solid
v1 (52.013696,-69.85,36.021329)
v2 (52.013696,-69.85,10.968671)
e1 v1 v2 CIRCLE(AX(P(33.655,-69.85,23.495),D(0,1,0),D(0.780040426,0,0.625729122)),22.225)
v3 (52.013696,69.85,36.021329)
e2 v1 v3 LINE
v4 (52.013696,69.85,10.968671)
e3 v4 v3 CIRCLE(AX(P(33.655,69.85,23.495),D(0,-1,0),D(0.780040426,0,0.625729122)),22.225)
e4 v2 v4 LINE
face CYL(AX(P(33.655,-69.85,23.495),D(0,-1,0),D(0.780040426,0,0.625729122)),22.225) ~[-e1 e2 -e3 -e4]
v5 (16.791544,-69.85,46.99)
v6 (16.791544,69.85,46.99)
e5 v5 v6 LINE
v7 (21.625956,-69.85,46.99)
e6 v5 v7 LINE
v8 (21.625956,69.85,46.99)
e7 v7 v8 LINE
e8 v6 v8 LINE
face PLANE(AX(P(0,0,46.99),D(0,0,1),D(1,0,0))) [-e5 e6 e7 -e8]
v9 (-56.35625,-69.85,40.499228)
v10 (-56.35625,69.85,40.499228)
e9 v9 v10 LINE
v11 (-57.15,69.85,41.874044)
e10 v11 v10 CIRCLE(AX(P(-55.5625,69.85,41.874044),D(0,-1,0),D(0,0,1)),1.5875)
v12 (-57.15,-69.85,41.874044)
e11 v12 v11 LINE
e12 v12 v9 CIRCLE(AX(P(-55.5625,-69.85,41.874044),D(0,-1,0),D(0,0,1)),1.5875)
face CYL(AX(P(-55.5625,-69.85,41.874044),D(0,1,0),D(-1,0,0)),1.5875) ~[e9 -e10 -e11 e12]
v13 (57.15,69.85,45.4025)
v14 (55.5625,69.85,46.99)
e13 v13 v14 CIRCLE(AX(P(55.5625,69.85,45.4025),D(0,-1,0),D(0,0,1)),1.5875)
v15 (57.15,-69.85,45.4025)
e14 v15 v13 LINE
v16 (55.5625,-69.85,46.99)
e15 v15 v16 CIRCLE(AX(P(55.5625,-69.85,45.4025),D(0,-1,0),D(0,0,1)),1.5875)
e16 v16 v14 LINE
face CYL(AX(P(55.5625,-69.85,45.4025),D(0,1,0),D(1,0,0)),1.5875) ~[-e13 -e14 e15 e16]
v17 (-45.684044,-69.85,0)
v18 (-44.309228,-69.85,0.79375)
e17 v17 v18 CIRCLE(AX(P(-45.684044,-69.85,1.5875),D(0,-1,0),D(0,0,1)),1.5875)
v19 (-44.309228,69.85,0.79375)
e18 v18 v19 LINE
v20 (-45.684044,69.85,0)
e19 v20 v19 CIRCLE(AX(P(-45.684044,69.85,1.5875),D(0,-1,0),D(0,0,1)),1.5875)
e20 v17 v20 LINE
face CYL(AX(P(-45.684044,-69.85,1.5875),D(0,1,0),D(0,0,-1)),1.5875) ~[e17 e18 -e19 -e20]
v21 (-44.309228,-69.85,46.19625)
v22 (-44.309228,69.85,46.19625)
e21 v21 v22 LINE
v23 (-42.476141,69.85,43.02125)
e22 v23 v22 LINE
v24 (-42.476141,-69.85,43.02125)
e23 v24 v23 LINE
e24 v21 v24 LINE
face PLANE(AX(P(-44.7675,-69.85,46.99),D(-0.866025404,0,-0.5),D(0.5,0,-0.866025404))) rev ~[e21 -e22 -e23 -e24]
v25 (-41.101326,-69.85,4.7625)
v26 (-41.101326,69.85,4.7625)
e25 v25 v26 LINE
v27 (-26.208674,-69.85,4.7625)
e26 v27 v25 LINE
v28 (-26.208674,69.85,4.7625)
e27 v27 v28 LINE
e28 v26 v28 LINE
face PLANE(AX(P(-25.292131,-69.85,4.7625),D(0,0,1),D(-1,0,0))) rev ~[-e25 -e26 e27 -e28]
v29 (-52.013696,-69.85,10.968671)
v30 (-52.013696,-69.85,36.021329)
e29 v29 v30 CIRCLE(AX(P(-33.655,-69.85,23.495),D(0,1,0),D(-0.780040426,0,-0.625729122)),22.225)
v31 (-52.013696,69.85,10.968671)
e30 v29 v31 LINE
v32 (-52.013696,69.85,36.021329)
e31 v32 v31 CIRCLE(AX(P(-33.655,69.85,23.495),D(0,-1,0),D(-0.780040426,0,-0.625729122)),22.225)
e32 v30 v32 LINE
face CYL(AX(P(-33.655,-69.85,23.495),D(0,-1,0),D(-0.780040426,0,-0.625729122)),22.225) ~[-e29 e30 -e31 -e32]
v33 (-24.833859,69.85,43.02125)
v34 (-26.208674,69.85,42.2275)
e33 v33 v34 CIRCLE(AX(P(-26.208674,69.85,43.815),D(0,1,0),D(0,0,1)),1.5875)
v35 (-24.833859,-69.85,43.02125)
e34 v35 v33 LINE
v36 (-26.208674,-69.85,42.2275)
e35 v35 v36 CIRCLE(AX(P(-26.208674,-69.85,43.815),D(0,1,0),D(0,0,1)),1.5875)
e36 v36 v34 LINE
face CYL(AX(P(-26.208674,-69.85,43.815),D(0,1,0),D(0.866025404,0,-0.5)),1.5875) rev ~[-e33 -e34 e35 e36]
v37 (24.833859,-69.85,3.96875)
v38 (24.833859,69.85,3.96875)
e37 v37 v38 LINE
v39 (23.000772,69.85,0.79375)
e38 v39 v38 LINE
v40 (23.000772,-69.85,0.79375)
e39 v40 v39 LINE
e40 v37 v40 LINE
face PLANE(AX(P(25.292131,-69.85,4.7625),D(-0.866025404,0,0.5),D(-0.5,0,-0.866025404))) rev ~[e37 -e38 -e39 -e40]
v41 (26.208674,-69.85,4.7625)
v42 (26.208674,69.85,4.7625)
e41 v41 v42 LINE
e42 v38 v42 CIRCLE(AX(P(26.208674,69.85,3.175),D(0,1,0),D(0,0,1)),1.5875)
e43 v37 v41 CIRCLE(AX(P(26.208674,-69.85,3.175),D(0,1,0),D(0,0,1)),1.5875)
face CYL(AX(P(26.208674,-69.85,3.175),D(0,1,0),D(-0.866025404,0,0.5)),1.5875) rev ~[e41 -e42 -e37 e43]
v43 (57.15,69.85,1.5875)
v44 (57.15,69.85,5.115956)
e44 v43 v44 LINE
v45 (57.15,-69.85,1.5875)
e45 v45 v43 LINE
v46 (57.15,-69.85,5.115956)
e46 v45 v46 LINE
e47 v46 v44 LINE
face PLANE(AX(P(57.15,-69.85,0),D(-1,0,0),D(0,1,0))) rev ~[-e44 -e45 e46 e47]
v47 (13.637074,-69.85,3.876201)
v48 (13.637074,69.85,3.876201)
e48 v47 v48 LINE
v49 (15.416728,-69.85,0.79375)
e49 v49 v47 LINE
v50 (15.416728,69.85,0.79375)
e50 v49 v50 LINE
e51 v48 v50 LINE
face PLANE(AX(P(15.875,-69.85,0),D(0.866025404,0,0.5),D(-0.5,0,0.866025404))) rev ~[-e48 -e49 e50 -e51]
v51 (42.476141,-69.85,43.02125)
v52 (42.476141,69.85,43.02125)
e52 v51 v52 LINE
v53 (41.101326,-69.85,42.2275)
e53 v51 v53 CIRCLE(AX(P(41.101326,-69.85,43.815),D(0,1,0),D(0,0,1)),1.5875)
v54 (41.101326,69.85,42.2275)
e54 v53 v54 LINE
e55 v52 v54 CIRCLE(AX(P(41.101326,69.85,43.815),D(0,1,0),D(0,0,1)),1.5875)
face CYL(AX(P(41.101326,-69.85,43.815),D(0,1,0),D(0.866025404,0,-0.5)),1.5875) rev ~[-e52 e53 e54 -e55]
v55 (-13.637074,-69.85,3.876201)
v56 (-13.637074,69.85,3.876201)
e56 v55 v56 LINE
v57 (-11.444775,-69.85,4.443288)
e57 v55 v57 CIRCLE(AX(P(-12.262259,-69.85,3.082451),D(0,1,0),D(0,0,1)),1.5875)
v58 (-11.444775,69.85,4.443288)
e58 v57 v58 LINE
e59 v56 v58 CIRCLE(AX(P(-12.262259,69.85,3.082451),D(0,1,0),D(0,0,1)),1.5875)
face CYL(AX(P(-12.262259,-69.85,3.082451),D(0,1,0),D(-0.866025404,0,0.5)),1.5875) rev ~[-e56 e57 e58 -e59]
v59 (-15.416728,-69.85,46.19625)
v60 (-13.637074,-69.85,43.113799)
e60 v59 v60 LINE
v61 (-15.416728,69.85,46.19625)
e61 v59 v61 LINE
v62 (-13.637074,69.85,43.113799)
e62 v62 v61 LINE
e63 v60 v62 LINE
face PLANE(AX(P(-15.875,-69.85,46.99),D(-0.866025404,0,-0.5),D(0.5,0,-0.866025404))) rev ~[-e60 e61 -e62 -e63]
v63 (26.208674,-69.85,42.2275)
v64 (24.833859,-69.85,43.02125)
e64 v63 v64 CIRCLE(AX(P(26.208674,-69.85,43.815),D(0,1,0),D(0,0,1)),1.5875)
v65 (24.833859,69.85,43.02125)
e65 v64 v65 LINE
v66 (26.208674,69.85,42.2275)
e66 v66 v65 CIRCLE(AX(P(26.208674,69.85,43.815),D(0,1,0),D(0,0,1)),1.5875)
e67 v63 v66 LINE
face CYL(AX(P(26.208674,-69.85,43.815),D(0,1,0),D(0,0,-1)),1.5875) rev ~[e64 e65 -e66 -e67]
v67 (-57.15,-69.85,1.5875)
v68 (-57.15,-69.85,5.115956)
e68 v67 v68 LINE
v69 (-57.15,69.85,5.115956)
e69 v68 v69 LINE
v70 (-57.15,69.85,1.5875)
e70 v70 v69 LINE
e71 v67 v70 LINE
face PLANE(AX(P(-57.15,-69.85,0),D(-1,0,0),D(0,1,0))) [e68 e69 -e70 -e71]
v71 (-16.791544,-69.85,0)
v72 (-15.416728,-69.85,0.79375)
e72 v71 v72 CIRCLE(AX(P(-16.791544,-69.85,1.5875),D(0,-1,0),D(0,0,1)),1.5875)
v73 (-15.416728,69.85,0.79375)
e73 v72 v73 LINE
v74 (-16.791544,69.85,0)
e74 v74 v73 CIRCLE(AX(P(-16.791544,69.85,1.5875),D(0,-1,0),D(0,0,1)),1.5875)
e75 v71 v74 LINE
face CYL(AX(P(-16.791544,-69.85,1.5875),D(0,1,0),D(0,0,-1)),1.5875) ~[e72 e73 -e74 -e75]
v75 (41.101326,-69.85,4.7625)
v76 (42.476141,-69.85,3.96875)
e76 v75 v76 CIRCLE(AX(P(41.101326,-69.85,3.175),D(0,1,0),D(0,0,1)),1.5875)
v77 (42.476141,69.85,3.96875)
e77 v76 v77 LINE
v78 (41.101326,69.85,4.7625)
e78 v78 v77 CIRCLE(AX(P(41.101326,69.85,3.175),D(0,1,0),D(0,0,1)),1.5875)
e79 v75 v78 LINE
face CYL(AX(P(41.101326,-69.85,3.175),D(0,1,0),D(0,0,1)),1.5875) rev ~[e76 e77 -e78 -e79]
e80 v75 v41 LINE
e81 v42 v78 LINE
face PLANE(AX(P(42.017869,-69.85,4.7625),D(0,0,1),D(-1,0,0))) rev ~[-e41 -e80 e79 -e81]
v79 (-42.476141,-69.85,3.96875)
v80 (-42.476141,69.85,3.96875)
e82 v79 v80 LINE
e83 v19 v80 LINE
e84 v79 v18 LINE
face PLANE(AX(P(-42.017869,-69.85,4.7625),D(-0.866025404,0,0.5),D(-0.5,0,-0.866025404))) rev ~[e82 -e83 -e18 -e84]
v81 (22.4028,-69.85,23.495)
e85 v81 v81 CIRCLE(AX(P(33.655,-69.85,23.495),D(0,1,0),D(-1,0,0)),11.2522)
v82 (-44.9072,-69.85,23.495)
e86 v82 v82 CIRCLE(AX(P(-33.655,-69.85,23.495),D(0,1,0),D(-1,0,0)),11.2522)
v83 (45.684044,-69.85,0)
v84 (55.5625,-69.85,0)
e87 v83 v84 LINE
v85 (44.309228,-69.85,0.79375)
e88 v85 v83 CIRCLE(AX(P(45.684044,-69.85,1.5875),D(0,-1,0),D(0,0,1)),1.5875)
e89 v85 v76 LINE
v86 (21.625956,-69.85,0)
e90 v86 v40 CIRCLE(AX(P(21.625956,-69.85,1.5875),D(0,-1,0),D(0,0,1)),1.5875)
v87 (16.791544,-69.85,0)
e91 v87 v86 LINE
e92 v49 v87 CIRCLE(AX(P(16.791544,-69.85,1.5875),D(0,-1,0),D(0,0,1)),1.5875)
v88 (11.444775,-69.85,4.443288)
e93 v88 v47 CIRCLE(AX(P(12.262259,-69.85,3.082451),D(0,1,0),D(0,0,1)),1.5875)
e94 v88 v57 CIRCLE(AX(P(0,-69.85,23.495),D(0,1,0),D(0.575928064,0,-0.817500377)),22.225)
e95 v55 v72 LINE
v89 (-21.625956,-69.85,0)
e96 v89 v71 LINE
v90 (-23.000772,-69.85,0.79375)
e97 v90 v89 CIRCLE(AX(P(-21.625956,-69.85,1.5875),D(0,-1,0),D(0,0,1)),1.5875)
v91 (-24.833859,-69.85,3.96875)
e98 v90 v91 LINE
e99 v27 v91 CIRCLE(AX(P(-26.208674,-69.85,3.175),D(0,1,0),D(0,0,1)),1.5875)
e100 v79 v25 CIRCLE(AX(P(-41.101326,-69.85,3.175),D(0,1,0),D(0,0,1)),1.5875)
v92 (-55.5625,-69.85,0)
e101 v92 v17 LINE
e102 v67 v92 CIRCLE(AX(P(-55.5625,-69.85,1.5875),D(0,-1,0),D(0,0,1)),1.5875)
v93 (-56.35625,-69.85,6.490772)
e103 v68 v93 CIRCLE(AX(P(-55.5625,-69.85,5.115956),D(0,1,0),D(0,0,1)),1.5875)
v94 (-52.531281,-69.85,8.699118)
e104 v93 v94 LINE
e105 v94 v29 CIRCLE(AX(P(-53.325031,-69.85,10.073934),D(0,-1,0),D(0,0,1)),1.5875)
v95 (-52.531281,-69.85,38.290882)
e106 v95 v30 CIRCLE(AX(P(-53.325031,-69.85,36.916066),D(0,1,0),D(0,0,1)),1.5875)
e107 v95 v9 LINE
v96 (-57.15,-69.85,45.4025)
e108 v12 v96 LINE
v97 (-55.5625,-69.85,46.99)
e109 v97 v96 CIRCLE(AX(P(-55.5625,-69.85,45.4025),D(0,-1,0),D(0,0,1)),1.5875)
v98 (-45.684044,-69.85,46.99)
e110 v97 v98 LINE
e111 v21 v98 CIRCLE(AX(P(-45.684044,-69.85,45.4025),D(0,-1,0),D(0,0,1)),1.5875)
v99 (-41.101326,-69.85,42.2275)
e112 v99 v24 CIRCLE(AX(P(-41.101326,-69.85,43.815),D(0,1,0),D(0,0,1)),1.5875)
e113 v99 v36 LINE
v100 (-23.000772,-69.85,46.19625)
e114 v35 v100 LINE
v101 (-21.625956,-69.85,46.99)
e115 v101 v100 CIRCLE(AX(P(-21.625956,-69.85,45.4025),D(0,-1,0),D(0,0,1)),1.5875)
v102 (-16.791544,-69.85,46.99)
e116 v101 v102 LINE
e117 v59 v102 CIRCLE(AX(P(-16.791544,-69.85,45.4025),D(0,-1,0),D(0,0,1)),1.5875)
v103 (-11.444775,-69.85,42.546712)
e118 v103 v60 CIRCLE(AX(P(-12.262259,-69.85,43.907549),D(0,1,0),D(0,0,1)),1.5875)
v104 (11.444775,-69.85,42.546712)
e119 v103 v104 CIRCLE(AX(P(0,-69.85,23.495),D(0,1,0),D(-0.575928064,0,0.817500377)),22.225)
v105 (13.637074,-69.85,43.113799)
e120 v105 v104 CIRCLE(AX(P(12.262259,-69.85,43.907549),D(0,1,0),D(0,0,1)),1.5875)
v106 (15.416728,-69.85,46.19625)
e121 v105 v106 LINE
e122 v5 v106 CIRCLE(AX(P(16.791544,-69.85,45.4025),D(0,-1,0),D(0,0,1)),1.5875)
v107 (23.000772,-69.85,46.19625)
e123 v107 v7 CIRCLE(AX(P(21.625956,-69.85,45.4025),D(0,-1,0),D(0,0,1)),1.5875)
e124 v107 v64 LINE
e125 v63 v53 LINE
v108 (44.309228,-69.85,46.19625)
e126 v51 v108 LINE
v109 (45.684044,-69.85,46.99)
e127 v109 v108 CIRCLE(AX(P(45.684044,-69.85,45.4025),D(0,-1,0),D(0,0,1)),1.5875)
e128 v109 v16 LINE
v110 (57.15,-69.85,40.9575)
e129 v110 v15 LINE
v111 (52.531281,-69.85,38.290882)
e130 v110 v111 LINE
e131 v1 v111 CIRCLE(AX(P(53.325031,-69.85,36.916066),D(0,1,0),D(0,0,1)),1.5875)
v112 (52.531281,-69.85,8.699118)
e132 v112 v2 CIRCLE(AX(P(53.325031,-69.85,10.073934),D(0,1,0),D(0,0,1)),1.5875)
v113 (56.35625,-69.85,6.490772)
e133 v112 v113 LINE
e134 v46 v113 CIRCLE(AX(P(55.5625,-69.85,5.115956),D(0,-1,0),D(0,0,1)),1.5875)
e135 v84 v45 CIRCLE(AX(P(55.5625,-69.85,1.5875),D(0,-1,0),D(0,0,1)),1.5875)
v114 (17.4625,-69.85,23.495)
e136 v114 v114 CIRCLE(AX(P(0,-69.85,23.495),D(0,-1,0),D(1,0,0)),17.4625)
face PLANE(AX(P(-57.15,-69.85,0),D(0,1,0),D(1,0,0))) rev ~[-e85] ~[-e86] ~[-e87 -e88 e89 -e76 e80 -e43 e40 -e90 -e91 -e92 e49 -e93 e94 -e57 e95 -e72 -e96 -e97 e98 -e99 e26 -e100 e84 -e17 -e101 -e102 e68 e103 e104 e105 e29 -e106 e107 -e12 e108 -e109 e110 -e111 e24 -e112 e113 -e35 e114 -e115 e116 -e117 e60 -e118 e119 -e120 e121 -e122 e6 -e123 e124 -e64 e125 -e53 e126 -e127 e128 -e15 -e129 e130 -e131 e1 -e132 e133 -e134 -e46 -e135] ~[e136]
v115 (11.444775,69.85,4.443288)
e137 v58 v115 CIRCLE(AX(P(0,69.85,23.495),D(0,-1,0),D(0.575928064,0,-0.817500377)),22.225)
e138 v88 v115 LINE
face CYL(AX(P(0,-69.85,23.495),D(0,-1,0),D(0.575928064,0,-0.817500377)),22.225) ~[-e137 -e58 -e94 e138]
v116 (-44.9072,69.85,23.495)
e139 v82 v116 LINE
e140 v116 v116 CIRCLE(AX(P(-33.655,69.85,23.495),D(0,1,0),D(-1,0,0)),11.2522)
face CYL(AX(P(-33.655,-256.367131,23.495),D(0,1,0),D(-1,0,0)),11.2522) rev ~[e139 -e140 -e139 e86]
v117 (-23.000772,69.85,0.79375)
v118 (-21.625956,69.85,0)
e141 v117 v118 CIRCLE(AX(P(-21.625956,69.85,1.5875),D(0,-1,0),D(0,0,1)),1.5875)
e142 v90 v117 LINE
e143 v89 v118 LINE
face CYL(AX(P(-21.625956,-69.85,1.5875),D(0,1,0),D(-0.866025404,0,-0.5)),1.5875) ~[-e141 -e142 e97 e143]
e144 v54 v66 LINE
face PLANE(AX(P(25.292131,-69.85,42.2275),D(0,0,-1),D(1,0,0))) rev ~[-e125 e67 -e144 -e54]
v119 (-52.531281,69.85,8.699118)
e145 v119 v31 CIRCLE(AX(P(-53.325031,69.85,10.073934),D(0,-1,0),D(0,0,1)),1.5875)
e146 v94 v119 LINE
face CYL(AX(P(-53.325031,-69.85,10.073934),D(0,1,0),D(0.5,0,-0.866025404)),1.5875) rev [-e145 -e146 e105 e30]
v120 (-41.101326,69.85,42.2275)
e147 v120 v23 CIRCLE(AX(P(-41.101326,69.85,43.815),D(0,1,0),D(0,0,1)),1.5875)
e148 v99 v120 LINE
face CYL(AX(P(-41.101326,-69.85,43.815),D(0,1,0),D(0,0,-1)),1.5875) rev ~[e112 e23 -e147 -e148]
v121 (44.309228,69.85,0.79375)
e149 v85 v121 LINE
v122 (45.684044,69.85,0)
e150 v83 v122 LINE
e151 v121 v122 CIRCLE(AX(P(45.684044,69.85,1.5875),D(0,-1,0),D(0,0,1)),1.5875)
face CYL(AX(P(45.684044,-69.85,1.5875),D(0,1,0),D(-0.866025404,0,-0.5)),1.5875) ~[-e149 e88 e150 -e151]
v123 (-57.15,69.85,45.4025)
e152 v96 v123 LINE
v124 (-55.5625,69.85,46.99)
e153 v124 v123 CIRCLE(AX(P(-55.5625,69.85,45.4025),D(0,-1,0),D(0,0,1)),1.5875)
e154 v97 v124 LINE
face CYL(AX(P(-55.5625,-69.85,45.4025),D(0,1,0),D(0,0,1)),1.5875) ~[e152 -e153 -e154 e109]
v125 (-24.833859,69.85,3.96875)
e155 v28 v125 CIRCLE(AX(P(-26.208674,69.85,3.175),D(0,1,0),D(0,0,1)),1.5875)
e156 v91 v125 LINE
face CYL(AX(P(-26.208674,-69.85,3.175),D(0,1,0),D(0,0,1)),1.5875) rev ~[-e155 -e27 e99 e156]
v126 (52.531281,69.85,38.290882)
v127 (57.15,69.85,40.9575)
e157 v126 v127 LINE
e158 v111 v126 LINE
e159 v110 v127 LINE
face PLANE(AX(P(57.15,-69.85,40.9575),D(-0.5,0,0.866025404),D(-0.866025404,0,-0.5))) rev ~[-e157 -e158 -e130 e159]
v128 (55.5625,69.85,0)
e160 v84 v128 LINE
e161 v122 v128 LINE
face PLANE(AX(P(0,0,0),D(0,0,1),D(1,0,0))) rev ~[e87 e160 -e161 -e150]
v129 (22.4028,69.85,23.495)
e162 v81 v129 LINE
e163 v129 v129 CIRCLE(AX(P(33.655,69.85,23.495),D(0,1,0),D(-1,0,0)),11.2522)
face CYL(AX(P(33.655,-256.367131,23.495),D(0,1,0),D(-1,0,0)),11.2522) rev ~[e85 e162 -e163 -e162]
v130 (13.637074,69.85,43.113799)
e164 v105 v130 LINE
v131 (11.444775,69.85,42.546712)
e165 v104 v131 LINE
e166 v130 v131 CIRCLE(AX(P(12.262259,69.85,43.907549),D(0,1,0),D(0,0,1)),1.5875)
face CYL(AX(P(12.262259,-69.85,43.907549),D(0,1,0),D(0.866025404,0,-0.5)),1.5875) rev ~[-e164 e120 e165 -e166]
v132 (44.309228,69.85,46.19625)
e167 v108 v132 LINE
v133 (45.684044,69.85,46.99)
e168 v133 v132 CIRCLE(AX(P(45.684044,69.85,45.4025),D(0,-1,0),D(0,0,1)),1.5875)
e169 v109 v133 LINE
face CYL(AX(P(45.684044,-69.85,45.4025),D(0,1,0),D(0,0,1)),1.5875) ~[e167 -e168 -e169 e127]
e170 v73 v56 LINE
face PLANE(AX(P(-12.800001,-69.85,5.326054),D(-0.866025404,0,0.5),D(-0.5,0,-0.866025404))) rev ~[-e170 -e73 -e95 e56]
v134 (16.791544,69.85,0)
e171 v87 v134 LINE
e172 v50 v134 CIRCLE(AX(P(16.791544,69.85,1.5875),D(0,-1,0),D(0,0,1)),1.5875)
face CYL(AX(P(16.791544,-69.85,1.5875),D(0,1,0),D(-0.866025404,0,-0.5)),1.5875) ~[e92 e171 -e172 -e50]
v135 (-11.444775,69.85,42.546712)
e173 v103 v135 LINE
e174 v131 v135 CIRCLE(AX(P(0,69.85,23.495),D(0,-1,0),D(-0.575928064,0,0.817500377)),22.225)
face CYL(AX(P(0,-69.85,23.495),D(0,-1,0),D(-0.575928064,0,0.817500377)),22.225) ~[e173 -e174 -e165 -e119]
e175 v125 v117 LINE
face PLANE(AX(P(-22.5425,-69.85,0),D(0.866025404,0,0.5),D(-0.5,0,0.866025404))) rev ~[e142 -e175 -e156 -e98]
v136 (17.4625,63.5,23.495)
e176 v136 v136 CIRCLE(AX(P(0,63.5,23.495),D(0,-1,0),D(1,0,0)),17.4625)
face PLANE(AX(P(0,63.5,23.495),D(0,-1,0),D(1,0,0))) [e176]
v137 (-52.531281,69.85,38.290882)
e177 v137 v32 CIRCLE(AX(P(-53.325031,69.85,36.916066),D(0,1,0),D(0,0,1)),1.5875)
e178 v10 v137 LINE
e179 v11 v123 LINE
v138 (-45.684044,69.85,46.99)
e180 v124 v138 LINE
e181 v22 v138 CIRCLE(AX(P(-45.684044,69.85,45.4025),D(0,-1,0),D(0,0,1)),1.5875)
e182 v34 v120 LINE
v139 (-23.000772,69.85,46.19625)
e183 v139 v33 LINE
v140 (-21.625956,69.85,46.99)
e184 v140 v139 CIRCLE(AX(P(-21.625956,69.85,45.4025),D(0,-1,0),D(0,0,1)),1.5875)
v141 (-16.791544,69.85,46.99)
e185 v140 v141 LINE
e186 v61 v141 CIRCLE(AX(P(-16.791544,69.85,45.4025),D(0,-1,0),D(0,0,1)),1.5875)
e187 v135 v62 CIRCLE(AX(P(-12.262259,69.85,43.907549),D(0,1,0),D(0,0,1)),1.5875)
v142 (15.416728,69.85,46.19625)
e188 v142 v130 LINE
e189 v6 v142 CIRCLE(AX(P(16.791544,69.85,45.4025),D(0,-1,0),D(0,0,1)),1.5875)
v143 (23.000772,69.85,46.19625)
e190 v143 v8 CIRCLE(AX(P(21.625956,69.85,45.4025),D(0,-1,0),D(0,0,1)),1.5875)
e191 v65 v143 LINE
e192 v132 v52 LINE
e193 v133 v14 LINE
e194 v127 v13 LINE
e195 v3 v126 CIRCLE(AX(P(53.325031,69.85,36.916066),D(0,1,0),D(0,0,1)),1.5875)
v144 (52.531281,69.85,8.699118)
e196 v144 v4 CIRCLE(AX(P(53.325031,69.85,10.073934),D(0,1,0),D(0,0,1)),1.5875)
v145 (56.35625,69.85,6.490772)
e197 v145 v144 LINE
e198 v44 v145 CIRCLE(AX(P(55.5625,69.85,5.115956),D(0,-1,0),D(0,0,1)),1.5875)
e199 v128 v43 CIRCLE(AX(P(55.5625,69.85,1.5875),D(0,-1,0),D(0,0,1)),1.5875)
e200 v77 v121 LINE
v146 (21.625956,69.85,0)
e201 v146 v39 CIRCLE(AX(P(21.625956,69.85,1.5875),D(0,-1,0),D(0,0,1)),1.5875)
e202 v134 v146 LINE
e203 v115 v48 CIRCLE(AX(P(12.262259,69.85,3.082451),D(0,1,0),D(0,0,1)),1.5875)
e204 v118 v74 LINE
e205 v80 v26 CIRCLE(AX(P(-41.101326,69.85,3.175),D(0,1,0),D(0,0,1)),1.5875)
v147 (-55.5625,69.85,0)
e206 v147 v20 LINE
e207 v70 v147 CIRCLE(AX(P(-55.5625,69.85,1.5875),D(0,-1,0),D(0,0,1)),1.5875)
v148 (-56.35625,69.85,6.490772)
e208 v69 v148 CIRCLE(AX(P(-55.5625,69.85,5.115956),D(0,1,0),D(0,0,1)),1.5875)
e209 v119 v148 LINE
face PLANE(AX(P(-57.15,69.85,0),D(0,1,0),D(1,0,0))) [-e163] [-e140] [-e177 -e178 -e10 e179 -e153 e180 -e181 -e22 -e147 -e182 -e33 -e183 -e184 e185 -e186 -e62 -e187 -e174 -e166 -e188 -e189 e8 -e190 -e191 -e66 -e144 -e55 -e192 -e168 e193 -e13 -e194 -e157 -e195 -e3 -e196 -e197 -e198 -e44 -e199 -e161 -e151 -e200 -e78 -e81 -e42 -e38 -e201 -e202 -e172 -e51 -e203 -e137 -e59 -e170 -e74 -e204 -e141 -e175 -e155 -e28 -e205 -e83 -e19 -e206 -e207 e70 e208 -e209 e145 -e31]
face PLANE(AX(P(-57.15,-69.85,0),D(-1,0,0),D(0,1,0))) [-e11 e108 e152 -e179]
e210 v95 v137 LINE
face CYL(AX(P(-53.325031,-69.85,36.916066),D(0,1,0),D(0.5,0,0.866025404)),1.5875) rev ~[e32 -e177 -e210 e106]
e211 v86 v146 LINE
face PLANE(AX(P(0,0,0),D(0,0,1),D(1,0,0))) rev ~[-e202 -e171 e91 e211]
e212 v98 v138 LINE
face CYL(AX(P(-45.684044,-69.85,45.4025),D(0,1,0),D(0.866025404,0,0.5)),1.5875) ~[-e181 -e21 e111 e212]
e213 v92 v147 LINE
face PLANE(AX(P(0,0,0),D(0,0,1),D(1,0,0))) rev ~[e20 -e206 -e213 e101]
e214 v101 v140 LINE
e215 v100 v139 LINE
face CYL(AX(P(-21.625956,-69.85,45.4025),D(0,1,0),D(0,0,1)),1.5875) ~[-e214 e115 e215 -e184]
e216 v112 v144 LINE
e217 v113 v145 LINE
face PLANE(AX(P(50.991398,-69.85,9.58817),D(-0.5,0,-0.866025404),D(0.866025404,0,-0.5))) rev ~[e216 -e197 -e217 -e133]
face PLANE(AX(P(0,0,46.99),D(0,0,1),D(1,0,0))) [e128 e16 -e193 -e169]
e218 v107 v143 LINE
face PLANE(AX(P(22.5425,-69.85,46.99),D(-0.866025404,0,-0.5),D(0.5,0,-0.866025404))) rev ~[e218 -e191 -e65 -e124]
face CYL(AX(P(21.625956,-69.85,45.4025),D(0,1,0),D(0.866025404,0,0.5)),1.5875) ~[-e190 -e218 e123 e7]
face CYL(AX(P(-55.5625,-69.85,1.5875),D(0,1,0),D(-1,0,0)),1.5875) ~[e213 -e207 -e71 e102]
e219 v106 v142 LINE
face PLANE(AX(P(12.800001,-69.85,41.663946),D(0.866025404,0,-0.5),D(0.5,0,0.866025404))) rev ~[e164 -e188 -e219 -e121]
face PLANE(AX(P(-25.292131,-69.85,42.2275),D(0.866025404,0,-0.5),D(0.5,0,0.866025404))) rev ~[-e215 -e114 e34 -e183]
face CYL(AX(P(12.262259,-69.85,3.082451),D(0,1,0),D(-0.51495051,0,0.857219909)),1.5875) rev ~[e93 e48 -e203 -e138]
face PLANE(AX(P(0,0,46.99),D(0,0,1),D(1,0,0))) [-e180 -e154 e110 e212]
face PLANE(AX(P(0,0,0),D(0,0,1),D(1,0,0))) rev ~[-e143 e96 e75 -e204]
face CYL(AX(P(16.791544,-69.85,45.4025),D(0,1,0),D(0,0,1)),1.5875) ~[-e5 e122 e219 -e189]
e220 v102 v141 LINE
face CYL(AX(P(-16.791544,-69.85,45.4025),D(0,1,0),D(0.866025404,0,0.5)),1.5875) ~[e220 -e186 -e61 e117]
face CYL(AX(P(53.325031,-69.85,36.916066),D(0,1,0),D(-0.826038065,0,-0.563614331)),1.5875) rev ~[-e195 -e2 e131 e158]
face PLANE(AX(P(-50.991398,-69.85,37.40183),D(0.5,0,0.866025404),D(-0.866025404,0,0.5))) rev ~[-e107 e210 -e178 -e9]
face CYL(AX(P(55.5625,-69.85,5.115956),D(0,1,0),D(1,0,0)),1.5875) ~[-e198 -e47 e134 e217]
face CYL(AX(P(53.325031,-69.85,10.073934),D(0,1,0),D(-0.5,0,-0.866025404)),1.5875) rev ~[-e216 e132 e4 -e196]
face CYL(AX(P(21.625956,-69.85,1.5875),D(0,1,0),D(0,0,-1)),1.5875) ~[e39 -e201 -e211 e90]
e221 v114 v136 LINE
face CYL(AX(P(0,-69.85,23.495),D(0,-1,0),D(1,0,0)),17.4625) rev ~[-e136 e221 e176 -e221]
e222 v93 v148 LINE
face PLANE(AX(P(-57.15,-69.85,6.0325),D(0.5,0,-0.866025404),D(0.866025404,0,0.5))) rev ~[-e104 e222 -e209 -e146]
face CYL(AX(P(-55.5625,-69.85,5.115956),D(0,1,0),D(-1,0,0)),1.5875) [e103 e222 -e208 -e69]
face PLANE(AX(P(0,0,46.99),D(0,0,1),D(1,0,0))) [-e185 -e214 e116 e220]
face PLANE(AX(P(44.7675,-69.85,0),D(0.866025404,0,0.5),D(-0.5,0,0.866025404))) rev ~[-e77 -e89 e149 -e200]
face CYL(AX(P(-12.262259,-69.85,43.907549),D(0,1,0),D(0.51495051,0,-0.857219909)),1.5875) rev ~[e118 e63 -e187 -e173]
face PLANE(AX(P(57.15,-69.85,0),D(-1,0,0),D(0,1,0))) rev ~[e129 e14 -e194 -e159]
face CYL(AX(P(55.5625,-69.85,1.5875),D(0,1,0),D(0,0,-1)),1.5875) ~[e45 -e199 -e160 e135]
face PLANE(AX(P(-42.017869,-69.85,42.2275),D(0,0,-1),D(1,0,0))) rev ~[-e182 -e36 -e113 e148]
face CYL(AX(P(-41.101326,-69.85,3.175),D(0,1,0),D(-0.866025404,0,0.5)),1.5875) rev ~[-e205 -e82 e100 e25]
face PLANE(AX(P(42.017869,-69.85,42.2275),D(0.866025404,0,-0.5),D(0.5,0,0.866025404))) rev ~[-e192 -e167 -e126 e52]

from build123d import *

# Parameters (mm, degrees)
F0_W     = 114.3
F0_H     = 139.7
F1_DEPTH = 46.99
F3_D     = 22.5044
F4_R     = 17.4625
F5_DEPTH = 133.35
F7_DEPTH = 139.701
F8_R     = 1.5875


with BuildPart() as f1:
    # F0 (on Top) → F1 (new body)
    with BuildSketch(Plane.XY):
        Rectangle(F0_W, F0_H)
    extrude(amount=F1_DEPTH)

    # F3 (through all)
    with Locations(Plane.XZ.offset(69.85)):
        with Locations((-33.655, 23.495), (33.655, 23.495)):
            Hole(F3_D / 2)

    # F4 (on face) → F5 (cut, through all)
    with BuildSketch(Plane.XZ.offset(69.85)):
        with Locations((0, 23.495)):
            Circle(F4_R)
    extrude(amount=-F5_DEPTH, mode=Mode.SUBTRACT)

    # F6 (on face) → F7 (cut, through all)
    with BuildSketch(Plane.XZ.offset(69.85)):
        with BuildLine():
            Line((-50.9913984587, 37.4018297423), (-57.15, 40.9575))
            Line((-57.15, 40.9575), (-57.15, 6.0325))
            Line((-57.15, 6.0325), (-50.9913984587, 9.5881702577))
            ThreePointArc((-50.9913984587, 9.5881702577), (-55.88, 23.495), (-50.9913984587, 37.4018297423))
        make_face()
        Polygon((-22.5425, 46.99), (-44.7675, 46.99), (-42.017869343, 42.2275), (-25.292130657, 42.2275), align=None)
        Polygon((-42.017869343, 4.7625), (-44.7675, 0), (-22.5425, 0), (-25.292130657, 4.7625), align=None)
        with BuildLine():
            Line((-12.800001213, 5.3260541322), (-15.875, 0))
            Line((-15.875, 0), (15.875, 0))
            Line((15.875, 0), (12.800001213, 5.3260541322))
            ThreePointArc((12.800001213, 5.3260541322), (0, 1.27), (-12.800001213, 5.3260541322))
        make_face()
        with BuildLine():
            Line((15.875, 46.99), (-15.875, 46.99))
            Line((-15.875, 46.99), (-12.800001213, 41.6639458678))
            ThreePointArc((-12.800001213, 41.6639458678), (0, 45.72), (12.800001213, 41.6639458678))
            Line((12.800001213, 41.6639458678), (15.875, 46.99))
        make_face()
        Polygon((44.7675, 46.99), (22.5425, 46.99), (25.292130657, 42.2275), (42.017869343, 42.2275), align=None)
        Polygon((25.292130657, 4.7625), (22.5425, 0), (44.7675, 0), (42.017869343, 4.7625), align=None)
        with BuildLine():
            Line((57.15, 6.0325), (57.15, 40.9575))
            Line((57.15, 40.9575), (50.9913984587, 37.4018297423))
            ThreePointArc((50.9913984587, 37.4018297423), (55.88, 23.495), (50.9913984587, 9.5881702577))
            Line((50.9913984587, 9.5881702577), (57.15, 6.0325))
        make_face()
    extrude(amount=-F7_DEPTH, mode=Mode.SUBTRACT)

    # F8
    f8_edges = [f1.edges().sort_by_distance(p)[0] for p in [
        (-57.15, 0, 0),
        (-44.7675, 0, 0),
        (-42.017869, 0, 4.7625),
        (-25.292131, 0, 4.7625),
        (-22.5425, 0, 0),
        (-15.875, 0, 0),
        (-12.800001, 0, 5.326054),
        (12.800001, 0, 5.326054),
        (15.875, 0, 0),
        (22.5425, 0, 0),
        (25.292131, 0, 4.7625),
        (42.017869, 0, 4.7625),
        (44.7675, 0, 0),
        (57.15, 0, 0),
        (57.15, 0, 6.0325),
        (50.991398, 0, 37.40183),
        (50.991398, 0, 9.58817),
        (57.15, 0, 46.99),
        (44.7675, 0, 46.99),
        (42.017869, 0, 42.2275),
        (25.292131, 0, 42.2275),
        (22.5425, 0, 46.99),
        (15.875, 0, 46.99),
        (12.800001, 0, 41.663946),
        (-12.800001, 0, 41.663946),
        (-15.875, 0, 46.99),
        (-22.5425, 0, 46.99),
        (-25.292131, 0, 42.2275),
        (-42.017869, 0, 42.2275),
        (-44.7675, 0, 46.99),
        (-57.15, 0, 46.99),
        (-57.15, 0, 40.9575),
        (-50.991398, 0, 37.40183),
        (-50.991398, 0, 9.58817),
        (-57.15, 0, 6.0325),
    ]]
    fillet(f8_edges, radius=F8_R)


solid = f1.part
